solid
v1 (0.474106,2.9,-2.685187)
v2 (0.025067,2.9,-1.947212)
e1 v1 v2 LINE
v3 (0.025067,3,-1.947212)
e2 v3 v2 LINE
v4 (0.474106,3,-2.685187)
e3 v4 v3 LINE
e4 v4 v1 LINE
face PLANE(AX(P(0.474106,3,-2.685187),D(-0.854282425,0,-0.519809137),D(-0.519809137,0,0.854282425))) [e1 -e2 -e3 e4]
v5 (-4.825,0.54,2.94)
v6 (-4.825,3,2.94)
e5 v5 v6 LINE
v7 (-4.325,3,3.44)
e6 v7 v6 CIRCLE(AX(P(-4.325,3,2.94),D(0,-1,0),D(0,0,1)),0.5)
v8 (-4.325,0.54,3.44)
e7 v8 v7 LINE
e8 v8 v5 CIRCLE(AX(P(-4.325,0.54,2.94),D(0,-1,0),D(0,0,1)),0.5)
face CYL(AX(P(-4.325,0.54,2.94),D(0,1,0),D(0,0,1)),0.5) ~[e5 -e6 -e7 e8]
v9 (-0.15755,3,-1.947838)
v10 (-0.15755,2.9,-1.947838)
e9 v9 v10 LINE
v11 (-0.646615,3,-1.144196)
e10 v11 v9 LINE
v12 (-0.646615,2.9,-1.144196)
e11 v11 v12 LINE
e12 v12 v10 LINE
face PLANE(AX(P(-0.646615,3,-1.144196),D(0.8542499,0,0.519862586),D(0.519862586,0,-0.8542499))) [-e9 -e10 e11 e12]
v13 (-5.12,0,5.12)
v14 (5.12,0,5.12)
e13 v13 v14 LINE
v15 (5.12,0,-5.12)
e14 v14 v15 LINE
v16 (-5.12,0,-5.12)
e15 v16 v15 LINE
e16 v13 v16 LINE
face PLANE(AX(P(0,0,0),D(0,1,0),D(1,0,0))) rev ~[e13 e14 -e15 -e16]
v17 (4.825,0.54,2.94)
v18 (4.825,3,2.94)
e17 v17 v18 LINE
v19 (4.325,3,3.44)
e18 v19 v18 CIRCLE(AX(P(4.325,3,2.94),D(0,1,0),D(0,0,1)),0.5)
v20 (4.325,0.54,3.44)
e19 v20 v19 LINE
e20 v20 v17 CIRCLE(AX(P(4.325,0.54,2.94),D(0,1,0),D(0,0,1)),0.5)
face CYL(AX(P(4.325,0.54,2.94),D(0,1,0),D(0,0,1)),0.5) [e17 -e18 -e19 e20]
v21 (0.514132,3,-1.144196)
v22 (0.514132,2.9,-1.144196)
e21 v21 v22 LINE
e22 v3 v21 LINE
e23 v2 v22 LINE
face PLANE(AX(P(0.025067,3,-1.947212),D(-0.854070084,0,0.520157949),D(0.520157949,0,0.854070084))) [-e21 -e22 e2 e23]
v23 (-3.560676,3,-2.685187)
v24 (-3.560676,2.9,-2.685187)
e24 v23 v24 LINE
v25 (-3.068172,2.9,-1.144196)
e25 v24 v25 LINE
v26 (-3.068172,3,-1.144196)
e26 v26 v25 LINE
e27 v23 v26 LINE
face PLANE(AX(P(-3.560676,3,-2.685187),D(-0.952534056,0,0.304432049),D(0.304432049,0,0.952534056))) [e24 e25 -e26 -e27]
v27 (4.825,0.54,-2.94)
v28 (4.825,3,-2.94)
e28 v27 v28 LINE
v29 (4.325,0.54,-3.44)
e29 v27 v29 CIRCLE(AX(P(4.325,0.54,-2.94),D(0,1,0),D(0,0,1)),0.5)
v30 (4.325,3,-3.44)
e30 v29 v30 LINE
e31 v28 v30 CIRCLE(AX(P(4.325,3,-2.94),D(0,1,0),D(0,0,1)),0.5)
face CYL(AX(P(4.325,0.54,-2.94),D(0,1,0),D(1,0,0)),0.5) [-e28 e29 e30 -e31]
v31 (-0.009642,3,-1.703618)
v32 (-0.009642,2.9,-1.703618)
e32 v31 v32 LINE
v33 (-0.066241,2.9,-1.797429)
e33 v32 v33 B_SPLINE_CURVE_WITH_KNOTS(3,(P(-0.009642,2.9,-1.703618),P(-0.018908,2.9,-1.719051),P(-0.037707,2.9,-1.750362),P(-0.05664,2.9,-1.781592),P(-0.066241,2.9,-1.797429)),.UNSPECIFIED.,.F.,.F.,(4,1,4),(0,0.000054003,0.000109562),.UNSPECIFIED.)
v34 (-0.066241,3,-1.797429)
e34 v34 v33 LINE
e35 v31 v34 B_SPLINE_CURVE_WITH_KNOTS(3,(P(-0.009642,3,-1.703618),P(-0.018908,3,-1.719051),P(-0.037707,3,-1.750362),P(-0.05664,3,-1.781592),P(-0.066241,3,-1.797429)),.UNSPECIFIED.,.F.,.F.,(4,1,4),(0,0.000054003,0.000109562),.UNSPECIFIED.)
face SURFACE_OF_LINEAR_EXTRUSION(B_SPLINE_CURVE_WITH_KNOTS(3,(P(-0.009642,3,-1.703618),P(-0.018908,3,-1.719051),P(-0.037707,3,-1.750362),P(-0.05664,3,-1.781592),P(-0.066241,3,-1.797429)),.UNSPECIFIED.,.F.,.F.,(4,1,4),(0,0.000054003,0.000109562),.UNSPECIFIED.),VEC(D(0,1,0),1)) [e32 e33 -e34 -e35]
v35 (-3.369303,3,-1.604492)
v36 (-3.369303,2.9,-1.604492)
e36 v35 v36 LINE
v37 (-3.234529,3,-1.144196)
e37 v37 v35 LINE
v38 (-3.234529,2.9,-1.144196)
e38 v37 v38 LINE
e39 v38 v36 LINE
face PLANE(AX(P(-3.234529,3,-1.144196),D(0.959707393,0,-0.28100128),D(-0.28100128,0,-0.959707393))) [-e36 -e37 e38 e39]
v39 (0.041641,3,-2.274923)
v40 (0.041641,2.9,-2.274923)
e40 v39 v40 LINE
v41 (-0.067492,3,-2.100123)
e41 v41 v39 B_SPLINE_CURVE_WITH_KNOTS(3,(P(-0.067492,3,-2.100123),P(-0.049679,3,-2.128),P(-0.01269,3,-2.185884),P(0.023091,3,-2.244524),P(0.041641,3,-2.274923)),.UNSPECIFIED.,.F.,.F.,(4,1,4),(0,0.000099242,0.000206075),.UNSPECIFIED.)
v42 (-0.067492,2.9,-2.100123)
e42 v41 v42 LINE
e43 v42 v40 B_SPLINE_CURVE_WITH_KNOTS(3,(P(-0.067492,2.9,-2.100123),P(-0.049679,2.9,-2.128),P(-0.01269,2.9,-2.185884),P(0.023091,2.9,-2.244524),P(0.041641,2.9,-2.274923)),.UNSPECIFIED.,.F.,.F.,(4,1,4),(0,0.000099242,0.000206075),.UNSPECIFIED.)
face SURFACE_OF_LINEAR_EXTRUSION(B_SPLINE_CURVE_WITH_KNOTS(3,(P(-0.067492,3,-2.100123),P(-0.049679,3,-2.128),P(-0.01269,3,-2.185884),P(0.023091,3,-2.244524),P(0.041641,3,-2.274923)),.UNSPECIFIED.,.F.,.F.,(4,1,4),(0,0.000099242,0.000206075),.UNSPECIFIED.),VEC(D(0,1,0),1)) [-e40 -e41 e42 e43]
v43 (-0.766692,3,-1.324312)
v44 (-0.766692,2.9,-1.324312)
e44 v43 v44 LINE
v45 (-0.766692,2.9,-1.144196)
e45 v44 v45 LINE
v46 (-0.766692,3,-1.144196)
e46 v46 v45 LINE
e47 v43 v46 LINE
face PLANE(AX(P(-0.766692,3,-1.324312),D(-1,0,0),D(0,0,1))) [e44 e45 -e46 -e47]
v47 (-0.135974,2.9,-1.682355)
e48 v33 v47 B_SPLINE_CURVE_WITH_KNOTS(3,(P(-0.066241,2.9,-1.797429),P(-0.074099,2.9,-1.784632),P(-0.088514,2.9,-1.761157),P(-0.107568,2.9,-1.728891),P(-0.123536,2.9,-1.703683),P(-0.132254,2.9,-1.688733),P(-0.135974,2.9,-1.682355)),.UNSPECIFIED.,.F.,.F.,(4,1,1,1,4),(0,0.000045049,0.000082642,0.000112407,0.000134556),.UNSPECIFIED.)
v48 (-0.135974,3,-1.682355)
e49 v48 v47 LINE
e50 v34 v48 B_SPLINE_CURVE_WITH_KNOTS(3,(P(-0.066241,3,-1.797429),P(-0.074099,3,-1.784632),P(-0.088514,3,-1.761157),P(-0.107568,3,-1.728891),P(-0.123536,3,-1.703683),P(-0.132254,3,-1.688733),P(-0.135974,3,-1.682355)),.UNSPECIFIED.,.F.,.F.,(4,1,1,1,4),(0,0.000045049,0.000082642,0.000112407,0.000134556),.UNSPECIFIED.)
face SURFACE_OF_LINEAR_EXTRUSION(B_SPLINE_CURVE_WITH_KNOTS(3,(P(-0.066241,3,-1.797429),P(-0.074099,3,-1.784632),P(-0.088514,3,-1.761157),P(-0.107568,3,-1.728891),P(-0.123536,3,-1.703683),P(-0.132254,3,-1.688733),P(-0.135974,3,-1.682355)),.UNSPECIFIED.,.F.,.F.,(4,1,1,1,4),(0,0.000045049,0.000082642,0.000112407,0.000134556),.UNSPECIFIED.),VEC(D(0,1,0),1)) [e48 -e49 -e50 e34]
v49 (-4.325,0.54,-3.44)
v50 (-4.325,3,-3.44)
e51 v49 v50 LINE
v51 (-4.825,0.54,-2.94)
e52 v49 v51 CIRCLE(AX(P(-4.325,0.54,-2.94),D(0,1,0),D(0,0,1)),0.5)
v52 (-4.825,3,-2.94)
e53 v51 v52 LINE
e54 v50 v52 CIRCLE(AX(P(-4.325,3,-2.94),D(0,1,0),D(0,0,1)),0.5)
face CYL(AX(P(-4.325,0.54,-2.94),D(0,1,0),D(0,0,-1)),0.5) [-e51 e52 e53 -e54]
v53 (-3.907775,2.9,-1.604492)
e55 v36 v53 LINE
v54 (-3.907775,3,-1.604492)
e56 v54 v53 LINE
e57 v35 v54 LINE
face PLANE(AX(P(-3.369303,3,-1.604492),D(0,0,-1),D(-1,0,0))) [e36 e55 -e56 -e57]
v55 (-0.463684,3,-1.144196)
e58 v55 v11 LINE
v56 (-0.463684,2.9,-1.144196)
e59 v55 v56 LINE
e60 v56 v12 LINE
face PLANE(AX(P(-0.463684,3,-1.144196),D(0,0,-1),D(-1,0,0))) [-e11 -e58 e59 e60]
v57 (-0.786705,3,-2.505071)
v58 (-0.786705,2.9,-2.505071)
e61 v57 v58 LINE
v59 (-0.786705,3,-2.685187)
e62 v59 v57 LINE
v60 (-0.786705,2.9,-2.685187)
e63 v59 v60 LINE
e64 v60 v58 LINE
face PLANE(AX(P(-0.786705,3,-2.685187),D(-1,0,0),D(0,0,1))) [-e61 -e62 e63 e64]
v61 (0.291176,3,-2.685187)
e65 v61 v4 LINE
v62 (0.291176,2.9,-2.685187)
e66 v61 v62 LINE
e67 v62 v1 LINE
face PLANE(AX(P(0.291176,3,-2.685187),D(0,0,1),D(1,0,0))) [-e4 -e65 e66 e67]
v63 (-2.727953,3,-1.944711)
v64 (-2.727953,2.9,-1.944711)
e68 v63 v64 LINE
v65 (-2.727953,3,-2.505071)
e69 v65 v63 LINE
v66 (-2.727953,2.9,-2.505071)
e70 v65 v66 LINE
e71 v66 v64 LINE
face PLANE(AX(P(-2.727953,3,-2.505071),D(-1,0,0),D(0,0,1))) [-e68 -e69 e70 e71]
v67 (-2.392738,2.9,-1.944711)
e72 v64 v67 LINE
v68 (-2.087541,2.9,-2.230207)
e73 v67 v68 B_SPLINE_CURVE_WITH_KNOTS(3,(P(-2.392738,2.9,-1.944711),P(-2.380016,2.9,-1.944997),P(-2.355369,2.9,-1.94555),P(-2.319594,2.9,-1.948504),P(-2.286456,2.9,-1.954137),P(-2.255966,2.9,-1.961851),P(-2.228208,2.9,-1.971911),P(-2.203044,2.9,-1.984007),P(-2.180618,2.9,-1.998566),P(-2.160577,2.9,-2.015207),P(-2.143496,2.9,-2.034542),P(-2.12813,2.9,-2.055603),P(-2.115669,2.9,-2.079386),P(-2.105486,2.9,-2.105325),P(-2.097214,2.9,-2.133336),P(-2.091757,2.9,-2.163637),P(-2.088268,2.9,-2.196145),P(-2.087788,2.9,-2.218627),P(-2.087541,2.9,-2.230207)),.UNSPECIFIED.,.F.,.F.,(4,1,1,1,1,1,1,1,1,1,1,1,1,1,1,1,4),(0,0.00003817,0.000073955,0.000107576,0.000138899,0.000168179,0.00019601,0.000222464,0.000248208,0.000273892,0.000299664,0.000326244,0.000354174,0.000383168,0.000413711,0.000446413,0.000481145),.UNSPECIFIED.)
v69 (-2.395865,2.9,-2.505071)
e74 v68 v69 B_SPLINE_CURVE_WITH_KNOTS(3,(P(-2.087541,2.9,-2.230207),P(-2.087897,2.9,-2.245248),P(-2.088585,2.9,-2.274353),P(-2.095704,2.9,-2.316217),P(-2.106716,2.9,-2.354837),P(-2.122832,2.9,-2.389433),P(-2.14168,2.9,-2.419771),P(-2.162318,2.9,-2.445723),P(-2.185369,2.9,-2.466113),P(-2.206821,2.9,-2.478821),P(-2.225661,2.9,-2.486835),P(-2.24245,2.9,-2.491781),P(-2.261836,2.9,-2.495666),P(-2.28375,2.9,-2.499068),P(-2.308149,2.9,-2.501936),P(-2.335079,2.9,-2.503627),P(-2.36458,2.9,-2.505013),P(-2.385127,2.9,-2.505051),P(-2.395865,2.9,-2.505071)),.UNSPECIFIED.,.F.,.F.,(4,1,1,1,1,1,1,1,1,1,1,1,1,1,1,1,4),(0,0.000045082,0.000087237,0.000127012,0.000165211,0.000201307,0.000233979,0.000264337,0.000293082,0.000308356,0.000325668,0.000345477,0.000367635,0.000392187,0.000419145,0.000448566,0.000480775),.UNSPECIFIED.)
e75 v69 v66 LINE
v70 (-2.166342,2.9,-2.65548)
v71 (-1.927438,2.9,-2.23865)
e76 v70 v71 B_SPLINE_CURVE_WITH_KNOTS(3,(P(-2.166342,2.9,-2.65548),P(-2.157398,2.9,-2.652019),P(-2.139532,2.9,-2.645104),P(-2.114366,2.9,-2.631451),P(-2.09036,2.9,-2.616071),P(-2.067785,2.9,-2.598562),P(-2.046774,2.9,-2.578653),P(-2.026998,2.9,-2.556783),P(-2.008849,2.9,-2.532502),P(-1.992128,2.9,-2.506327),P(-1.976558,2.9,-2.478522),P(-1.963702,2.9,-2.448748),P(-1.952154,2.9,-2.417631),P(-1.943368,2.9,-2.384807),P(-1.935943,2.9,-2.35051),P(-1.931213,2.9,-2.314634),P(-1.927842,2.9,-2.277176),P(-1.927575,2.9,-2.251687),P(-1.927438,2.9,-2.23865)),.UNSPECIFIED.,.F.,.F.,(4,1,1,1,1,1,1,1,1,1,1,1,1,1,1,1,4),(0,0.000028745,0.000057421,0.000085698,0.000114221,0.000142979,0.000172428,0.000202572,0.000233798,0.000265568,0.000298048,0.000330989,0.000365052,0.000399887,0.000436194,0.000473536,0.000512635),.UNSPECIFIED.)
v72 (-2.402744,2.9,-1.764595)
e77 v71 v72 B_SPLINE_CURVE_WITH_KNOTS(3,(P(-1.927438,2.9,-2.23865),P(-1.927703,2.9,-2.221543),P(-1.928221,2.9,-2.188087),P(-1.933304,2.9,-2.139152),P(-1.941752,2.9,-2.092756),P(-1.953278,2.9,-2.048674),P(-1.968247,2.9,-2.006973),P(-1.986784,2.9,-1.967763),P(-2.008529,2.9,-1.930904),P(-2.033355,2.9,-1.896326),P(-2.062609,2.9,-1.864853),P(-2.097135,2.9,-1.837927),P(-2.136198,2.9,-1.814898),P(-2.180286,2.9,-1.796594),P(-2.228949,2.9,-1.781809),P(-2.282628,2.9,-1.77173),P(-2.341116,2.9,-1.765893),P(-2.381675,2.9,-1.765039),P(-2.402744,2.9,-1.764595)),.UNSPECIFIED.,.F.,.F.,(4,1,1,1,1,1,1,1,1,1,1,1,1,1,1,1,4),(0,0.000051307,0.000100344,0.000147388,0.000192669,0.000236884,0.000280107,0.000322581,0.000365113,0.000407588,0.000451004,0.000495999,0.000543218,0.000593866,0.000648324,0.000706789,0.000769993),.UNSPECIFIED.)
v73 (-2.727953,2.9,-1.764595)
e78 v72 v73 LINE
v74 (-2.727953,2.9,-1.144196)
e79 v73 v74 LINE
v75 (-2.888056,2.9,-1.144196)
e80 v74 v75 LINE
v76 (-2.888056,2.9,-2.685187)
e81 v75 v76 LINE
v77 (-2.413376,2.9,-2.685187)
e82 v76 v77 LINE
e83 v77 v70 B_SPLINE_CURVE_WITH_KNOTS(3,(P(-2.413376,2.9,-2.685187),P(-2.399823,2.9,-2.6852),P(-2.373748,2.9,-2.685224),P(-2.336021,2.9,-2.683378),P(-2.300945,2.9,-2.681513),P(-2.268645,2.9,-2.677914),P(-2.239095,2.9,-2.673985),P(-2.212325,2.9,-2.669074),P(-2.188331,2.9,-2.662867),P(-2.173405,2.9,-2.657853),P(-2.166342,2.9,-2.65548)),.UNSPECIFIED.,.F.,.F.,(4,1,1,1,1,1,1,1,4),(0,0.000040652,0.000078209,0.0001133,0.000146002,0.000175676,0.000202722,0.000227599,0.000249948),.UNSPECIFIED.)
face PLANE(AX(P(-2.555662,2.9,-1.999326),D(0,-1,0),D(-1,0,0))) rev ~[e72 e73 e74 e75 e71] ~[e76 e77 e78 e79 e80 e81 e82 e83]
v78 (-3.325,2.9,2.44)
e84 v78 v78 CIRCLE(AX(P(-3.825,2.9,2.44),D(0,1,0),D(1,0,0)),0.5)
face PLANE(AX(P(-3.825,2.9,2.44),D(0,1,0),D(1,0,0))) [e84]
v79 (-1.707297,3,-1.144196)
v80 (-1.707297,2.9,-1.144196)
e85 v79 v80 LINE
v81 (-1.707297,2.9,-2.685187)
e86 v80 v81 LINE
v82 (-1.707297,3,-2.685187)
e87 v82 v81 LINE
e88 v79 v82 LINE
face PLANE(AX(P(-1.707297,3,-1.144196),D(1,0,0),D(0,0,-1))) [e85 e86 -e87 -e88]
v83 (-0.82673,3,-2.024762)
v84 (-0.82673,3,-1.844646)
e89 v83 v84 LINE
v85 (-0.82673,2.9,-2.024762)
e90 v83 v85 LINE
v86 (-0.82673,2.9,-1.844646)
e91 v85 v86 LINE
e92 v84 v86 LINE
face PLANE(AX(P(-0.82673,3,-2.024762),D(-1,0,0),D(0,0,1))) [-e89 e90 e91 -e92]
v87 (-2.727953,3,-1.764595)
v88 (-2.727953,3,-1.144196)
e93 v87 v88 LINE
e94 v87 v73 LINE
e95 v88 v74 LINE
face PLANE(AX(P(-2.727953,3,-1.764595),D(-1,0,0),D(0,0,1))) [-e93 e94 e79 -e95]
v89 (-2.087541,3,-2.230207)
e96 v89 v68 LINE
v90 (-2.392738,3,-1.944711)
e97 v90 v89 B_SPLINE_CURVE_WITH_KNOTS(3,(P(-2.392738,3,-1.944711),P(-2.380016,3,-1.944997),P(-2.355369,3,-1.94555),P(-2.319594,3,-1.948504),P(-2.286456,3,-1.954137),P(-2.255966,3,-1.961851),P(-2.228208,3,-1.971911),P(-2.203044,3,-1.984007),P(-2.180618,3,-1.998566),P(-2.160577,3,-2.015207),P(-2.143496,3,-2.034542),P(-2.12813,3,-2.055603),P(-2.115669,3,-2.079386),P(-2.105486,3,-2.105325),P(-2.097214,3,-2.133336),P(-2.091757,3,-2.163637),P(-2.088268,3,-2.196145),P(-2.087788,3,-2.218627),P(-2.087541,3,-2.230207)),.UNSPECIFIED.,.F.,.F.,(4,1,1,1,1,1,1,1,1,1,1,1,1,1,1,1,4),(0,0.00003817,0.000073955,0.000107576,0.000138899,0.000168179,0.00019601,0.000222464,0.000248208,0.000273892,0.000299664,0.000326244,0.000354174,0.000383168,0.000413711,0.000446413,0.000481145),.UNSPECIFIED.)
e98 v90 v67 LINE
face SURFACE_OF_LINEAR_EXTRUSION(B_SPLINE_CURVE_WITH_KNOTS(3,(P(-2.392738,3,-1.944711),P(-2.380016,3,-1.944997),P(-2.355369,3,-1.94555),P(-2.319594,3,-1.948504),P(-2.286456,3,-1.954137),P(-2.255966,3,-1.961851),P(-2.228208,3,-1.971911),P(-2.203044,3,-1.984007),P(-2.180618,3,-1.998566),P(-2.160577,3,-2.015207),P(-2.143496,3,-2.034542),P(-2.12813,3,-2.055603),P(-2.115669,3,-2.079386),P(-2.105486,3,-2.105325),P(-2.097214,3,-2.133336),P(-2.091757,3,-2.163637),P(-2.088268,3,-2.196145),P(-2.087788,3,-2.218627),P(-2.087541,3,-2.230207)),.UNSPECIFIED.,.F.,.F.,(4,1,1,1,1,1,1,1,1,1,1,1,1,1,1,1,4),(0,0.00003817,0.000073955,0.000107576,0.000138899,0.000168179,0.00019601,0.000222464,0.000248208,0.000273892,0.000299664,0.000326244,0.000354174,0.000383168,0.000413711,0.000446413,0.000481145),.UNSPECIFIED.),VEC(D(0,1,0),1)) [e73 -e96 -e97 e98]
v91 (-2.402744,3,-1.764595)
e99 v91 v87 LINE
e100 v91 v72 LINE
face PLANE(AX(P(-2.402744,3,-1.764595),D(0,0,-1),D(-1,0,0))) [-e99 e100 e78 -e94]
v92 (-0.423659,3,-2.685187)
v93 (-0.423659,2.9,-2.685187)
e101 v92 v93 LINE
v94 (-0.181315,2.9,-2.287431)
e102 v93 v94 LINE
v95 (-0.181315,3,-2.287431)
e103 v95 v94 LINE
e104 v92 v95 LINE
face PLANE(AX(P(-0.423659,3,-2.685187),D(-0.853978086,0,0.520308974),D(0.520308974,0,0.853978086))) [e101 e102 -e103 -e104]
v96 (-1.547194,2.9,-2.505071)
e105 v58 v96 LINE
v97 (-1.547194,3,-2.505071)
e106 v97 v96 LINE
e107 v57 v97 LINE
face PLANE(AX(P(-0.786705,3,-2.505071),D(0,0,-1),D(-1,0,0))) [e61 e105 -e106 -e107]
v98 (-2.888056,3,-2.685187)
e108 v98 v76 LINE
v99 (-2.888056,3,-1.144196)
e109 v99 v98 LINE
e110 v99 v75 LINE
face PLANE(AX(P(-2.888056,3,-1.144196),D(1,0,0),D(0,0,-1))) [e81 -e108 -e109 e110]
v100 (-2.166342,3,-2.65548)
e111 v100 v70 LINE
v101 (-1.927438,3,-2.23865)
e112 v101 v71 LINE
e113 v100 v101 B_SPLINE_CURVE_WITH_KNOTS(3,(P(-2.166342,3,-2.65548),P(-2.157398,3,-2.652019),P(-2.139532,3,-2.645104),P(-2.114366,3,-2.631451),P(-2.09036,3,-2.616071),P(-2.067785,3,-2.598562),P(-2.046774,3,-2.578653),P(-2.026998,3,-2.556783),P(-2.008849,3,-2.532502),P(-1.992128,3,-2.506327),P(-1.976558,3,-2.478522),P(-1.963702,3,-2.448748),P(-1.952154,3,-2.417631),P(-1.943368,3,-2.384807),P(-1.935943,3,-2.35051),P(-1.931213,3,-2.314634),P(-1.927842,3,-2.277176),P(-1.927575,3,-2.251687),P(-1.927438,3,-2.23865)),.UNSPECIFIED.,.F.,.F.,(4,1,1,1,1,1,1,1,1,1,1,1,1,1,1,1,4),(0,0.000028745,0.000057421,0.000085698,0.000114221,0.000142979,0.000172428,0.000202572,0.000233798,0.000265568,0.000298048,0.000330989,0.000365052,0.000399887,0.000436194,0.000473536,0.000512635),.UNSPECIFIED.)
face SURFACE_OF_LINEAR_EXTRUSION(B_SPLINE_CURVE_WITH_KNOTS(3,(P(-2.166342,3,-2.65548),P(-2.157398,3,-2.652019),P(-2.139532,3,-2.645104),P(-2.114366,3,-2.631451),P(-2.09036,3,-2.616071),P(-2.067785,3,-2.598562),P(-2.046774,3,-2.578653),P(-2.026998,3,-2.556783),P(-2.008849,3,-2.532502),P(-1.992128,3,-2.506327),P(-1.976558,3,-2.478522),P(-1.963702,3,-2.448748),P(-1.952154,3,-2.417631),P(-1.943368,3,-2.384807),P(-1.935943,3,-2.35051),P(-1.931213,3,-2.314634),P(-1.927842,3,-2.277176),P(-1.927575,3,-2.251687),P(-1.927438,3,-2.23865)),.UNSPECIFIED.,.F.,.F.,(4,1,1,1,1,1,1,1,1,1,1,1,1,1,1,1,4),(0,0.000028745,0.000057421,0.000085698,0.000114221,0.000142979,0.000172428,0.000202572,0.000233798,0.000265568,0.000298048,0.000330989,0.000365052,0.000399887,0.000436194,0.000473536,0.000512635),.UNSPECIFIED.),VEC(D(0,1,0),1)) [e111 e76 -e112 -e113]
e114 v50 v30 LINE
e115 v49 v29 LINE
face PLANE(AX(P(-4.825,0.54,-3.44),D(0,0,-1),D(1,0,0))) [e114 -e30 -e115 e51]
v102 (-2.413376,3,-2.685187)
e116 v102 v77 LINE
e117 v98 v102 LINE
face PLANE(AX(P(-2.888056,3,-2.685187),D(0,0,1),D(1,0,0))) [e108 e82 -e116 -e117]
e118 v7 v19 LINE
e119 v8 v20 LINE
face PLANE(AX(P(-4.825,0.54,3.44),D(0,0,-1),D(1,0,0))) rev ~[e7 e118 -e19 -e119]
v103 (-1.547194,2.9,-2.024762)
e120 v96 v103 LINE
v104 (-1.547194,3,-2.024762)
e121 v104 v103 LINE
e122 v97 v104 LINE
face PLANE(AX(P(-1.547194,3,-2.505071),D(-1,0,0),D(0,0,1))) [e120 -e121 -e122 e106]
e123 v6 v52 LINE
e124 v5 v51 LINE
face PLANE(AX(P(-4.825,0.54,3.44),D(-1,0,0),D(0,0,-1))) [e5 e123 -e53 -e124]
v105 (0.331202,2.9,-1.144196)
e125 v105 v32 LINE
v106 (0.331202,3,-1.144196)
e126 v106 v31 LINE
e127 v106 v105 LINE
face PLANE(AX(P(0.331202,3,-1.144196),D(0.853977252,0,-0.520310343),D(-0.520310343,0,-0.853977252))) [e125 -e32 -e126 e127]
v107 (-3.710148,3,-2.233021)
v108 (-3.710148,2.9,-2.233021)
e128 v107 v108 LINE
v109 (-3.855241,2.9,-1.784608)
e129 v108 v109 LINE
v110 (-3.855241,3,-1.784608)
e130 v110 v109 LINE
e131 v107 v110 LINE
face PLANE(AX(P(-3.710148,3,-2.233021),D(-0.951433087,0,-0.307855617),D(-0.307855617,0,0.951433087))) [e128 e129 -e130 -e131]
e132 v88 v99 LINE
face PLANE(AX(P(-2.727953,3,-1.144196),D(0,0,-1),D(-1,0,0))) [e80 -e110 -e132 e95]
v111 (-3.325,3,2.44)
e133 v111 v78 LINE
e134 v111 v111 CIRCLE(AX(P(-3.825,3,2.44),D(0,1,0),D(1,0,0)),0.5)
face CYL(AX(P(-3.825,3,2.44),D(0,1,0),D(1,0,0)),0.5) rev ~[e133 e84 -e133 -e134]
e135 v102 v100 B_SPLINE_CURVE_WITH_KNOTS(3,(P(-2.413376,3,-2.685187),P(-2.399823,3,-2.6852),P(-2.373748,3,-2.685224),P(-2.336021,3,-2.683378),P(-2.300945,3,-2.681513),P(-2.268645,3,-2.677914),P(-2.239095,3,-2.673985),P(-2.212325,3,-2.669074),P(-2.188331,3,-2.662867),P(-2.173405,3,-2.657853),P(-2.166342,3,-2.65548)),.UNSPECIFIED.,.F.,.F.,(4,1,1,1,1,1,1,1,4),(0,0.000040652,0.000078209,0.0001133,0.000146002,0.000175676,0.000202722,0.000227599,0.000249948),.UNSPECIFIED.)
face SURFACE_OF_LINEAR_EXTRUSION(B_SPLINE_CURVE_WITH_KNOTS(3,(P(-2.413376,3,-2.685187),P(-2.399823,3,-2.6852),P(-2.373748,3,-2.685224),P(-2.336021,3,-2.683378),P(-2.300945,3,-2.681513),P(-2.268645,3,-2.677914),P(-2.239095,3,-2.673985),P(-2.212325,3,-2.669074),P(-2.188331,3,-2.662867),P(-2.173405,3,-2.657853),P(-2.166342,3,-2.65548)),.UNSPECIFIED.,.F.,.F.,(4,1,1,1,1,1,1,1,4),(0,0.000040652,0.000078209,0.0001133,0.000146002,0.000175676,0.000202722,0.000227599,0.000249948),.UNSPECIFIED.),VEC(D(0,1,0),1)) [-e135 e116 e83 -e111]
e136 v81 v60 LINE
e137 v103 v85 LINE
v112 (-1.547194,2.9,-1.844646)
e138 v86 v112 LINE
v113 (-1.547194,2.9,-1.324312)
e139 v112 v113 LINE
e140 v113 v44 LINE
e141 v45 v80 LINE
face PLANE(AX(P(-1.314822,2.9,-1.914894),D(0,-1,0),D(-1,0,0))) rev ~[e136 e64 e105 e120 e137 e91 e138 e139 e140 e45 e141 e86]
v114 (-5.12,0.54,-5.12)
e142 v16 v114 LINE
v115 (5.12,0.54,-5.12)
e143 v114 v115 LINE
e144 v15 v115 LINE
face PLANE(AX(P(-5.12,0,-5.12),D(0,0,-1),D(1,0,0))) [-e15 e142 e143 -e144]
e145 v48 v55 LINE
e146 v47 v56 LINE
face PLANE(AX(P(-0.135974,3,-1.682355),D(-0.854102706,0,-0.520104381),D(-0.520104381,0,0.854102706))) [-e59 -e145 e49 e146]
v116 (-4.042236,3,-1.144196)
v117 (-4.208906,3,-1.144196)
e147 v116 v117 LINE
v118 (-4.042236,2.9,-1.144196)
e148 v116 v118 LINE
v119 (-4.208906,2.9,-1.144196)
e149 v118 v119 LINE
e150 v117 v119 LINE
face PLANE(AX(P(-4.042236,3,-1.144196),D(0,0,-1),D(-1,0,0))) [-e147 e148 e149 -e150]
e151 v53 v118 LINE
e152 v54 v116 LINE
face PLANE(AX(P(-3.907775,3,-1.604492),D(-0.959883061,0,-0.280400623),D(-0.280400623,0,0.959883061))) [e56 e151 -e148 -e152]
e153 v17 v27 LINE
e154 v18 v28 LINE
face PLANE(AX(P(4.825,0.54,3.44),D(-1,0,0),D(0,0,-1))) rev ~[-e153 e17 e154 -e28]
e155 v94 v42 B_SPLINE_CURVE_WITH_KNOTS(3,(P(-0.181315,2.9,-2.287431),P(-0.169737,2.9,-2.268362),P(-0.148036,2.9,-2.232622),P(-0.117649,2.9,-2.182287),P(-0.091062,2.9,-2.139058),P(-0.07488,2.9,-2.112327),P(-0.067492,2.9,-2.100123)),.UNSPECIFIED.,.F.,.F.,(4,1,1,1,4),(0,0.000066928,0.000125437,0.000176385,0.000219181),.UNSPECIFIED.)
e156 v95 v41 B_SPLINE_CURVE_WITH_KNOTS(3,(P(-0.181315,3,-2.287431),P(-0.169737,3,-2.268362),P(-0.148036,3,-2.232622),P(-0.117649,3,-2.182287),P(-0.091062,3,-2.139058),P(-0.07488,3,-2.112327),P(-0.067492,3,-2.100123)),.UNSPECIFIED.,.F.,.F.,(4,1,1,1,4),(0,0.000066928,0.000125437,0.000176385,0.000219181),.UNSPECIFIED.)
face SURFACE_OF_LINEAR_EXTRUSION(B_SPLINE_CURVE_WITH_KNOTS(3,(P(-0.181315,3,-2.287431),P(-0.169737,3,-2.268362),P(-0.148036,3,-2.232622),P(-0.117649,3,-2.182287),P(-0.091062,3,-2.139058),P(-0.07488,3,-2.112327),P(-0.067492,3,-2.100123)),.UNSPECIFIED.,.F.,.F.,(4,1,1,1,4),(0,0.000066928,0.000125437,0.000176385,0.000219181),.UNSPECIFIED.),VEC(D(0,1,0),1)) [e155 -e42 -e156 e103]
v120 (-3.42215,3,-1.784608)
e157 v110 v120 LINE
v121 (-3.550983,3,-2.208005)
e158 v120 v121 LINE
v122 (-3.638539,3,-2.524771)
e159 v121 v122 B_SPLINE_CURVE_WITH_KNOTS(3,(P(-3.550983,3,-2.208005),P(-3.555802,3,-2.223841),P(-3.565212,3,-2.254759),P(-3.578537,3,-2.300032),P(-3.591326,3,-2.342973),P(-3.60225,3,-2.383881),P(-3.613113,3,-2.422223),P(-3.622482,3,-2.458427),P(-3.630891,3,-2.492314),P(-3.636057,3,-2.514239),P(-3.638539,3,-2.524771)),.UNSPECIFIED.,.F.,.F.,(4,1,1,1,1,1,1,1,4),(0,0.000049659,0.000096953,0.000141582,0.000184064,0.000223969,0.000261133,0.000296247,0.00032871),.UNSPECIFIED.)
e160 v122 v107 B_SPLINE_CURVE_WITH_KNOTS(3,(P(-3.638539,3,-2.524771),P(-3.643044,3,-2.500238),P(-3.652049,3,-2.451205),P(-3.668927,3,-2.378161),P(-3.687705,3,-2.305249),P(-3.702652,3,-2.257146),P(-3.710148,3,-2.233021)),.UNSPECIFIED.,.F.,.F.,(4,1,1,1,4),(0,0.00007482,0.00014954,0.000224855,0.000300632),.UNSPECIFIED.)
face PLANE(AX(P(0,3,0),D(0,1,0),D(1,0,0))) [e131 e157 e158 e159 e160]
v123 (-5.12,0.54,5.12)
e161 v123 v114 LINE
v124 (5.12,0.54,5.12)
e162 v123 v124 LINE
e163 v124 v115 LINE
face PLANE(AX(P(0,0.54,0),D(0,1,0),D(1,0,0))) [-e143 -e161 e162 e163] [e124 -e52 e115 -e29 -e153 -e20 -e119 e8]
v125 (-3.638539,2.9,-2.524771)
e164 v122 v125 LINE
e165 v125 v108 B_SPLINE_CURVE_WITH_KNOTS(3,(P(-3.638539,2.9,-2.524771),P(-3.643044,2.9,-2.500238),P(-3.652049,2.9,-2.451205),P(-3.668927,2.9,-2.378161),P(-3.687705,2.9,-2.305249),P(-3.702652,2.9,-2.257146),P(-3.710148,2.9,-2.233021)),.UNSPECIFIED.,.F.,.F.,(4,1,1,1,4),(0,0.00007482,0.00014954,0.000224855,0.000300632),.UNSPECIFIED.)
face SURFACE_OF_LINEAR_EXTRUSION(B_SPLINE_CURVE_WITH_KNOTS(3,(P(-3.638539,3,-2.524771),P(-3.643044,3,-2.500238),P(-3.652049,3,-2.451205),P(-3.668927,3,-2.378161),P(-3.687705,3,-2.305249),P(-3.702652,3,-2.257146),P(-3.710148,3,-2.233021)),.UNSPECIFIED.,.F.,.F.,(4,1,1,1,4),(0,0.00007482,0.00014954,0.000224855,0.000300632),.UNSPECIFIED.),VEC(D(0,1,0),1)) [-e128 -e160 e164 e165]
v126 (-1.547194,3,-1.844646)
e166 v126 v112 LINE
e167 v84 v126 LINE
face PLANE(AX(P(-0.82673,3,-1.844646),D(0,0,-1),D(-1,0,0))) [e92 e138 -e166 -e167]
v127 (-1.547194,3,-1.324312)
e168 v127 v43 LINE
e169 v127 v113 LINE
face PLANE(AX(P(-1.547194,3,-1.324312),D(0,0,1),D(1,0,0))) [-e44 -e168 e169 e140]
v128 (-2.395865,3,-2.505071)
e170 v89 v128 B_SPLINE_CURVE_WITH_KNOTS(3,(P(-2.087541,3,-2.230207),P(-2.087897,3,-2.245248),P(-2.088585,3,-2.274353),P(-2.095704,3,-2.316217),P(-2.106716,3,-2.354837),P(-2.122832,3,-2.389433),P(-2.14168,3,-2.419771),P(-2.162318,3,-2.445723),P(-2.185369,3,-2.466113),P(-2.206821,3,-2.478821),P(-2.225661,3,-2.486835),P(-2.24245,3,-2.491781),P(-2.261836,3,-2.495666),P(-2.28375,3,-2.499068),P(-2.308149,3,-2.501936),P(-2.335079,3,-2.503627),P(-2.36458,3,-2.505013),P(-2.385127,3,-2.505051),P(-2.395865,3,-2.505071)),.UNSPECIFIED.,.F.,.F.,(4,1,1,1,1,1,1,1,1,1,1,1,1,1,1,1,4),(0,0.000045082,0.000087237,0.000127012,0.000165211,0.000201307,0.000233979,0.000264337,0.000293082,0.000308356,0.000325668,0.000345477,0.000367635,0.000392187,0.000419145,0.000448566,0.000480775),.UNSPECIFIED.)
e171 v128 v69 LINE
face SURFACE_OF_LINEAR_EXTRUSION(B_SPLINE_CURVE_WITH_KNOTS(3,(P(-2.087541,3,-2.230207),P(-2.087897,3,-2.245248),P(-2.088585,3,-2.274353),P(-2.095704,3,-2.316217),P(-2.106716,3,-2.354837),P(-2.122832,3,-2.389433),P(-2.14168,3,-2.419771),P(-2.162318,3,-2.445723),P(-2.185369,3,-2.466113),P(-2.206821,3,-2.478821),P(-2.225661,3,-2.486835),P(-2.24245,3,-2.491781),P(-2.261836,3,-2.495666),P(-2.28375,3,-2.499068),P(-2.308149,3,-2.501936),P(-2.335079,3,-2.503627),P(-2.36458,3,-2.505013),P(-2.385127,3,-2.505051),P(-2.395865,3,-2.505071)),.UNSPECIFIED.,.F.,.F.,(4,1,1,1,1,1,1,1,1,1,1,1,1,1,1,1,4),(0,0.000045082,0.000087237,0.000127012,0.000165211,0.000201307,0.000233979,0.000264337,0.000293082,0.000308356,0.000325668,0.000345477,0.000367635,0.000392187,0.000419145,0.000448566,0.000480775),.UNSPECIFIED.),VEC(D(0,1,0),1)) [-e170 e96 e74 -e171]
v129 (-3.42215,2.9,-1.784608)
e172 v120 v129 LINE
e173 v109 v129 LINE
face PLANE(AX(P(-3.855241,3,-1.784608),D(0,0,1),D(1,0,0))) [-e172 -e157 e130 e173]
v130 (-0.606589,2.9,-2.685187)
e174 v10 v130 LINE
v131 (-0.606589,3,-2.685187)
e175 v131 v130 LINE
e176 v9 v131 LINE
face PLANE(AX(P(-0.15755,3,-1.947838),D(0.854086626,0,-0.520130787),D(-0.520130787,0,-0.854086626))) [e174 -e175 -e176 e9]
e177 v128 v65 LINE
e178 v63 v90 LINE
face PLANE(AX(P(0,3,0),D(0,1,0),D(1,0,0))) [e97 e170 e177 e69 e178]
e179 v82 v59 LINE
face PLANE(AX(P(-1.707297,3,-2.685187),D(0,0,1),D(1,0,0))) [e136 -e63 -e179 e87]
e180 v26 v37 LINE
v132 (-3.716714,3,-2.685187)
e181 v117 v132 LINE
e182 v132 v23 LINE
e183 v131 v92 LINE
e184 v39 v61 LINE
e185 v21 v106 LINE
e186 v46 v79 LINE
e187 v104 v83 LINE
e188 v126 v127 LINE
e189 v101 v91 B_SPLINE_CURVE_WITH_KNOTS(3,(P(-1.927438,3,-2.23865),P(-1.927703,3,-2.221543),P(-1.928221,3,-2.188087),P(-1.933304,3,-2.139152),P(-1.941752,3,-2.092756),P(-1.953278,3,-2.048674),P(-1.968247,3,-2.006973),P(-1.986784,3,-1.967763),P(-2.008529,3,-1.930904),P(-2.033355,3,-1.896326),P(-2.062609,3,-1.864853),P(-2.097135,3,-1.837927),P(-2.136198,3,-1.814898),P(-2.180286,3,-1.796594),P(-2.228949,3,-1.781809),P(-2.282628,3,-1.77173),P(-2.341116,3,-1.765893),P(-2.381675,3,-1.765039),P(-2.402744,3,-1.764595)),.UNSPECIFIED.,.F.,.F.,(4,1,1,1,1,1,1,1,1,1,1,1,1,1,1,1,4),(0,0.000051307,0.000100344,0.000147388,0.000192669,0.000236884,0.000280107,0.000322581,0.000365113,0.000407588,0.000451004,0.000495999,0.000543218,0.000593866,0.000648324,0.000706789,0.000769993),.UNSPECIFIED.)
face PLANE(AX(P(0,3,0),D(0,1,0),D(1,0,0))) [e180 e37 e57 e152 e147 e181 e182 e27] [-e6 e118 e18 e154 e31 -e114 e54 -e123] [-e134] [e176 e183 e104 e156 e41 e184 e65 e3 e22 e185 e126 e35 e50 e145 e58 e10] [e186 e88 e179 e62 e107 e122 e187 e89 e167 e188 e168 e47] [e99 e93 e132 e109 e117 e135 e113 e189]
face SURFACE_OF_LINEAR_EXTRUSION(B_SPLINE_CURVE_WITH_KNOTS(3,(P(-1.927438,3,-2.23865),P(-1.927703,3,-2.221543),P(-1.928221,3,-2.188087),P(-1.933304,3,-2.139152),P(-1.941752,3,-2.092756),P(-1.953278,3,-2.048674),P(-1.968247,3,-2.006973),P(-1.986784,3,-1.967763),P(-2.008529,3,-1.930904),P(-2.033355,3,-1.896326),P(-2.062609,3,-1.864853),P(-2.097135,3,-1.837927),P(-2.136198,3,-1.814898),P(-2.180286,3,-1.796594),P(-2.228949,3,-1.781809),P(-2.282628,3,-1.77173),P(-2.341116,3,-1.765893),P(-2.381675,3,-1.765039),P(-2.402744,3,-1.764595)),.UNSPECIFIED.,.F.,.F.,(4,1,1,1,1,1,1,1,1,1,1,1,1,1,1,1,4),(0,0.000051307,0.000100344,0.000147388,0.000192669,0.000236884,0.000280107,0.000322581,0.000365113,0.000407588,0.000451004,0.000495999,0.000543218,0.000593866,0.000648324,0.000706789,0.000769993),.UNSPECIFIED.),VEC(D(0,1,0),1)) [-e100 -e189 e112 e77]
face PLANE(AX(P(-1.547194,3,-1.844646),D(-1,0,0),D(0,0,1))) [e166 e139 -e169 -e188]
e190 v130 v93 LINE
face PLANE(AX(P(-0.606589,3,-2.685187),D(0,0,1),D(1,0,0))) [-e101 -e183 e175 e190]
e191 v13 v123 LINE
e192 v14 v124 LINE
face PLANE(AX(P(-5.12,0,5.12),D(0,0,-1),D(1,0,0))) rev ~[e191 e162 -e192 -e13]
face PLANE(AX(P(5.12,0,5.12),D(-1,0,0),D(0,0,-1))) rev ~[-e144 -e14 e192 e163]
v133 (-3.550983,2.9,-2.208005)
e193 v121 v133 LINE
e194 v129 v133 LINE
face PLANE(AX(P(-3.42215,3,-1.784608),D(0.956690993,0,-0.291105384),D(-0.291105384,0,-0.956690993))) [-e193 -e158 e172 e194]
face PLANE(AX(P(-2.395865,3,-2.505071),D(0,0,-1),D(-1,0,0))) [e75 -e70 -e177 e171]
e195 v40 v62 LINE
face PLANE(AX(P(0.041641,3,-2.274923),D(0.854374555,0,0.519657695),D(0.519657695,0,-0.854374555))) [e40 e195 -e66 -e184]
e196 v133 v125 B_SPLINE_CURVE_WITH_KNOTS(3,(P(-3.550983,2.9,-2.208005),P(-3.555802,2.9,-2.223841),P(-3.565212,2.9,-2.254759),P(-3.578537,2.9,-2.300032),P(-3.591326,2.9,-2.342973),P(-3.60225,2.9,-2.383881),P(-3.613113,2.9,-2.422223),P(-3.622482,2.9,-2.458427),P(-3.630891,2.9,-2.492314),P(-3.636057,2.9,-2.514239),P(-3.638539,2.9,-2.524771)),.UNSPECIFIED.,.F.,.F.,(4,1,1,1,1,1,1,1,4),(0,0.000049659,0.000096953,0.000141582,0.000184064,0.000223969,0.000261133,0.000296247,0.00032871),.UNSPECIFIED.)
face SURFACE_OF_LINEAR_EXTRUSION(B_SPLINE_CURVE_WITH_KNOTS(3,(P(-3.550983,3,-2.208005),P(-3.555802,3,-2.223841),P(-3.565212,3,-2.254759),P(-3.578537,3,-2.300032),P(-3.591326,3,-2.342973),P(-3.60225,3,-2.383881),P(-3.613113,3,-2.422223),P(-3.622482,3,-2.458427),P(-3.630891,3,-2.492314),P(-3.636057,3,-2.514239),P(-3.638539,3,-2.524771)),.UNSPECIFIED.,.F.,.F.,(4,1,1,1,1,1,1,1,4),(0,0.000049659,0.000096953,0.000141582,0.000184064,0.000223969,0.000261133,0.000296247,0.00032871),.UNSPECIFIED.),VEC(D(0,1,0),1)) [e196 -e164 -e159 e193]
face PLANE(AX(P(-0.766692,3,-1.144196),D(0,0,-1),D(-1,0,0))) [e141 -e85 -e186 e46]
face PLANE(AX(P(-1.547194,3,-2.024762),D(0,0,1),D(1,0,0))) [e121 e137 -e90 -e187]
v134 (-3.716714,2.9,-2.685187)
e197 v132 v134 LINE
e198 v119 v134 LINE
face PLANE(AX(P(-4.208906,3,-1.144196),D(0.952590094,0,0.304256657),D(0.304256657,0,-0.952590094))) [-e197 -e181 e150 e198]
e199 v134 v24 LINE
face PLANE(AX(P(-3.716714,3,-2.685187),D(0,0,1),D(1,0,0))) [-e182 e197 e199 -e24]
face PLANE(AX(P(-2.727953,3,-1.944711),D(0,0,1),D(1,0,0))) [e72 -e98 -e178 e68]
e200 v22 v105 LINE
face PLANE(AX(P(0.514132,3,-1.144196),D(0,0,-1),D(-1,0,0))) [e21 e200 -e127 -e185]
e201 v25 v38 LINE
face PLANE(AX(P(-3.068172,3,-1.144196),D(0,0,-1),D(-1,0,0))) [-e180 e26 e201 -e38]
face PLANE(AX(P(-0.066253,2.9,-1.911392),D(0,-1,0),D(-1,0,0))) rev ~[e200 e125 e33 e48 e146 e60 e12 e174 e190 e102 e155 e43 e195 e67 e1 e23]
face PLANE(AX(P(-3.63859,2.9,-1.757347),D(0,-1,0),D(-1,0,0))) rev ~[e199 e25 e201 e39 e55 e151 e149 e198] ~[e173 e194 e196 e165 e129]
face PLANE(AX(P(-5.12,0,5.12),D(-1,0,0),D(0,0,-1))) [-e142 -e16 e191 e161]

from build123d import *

# Parameters (mm, degrees)
SKETCH1_W           = 10.24
SKETCH1_H           = 10.24
BOSS_EXTRUDE1_DEPTH = 0.54
SKETCH2_W           = 9.65
SKETCH2_H           = 6.88
BOSS_EXTRUDE2_DEPTH = 2.46
FILLET1_R           = 0.5
SKETCH3_R           = 0.5
CUT_EXTRUDE1_DEPTH  = 0.1
CUT_EXTRUDE2_DEPTH  = 0.1


with BuildPart() as part:
    # Sketch1 → Boss-Extrude1 (new body)
    with BuildSketch(Plane(origin=(0, 0, 0), x_dir=(1, 0, 0), z_dir=(0, 1, 0))):
        Rectangle(SKETCH1_W, SKETCH1_H)
    extrude(amount=BOSS_EXTRUDE1_DEPTH)

    # Sketch2 → Boss-Extrude2 (add)
    with BuildSketch(Plane(origin=(0, 0.54, 0), x_dir=(1, 0, 0), z_dir=(0, 1, 0))):
        Rectangle(SKETCH2_W, SKETCH2_H)
    extrude(amount=BOSS_EXTRUDE2_DEPTH)

    # Fillet1
    fillet1_edges = [part.edges().sort_by_distance(p)[0] for p in [
        (4.825, 1.77, 3.44),
        (4.825, 1.77, -3.44),
        (-4.825, 1.77, -3.44),
        (-4.825, 1.77, 3.44),
    ]]
    fillet(fillet1_edges, radius=FILLET1_R)

    # Sketch3 → Cut-Extrude1 (cut)
    with BuildSketch(Plane(origin=(0, 3, 0), x_dir=(1, 0, 0), z_dir=(0, 1, 0))):
        with Locations((-3.825, -2.44)):
            Circle(SKETCH3_R)
    extrude(amount=-CUT_EXTRUDE1_DEPTH, mode=Mode.SUBTRACT)

    # Sketch4 → Cut-Extrude2 (cut)
    with BuildSketch(Plane(origin=(0, 3, 0), x_dir=(1, 0, 0), z_dir=(0, 1, 0))):
        Polygon((-4.208905933, 1.144195858), (-3.716714341, 2.685187069), (-3.560676473, 2.685187069), (-3.06817218, 1.144195858), (-3.234529186, 1.144195858), (-3.369303376, 1.604491934), (-3.907774737, 1.604491934), (-4.042236227, 1.144195858), align=None)
        with BuildLine():
            Line((-3.855240946, 1.78460779), (-3.422149869, 1.78460779))
            Line((-3.422149869, 1.78460779), (-3.550982738, 2.208005131))
            add(Edge.make_bspline(
                [(-3.550982738, 2.208005131), (-3.555802408, 2.22384126), (-3.565212111, 2.254758994), (-3.578537108, 2.300032071), (-3.591326078, 2.342972738), (-3.602250322, 2.38388053), (-3.61311318, 2.422223196), (-3.622481656, 2.458427427), (-3.630891424, 2.492313544), (-3.636057432, 2.514238953), (-3.638539057, 2.524771385)],
                knots=[0, 0, 0, 0, 4.9659e-05, 9.6953e-05, 0.000141582, 0.000184064, 0.000223969, 0.000261133, 0.000296247, 0.00032871, 0.00032871, 0.00032871, 0.00032871], degree=3))
            add(Edge.make_bspline(
                [(-3.638539057, 2.524771385), (-3.643044276, 2.500238484), (-3.65204873, 2.451205272), (-3.668927225, 2.378161214), (-3.687705063, 2.305248967), (-3.702651529, 2.257146174), (-3.710147617, 2.233021222)],
                knots=[0, 0, 0, 0, 7.482e-05, 0.00014954, 0.000224855, 0.000300632, 0.000300632, 0.000300632, 0.000300632], degree=3))
            Line((-3.710147617, 2.233021222), (-3.855240946, 1.78460779))
        make_face(mode=Mode.SUBTRACT)
        with BuildLine():
            Line((-2.888056324, 1.144195858), (-2.888056324, 2.685187069))
            Line((-2.888056324, 2.685187069), (-2.413375996, 2.685187069))
            add(Edge.make_bspline(
                [(-2.413375996, 2.685187069), (-2.399822743, 2.685199787), (-2.373748311, 2.685224254), (-2.336020957, 2.683378466), (-2.30094543, 2.681513344), (-2.268644767, 2.677914478), (-2.239094529, 2.673984648), (-2.212324896, 2.66907385), (-2.188330523, 2.662867435), (-2.173405243, 2.657853313), (-2.166342096, 2.655480461)],
                knots=[0, 0, 0, 0, 4.0652e-05, 7.8209e-05, 0.0001133, 0.000146002, 0.000175676, 0.000202722, 0.000227599, 0.000249948, 0.000249948, 0.000249948, 0.000249948], degree=3))
            add(Edge.make_bspline(
                [(-2.166342096, 2.655480461), (-2.15739835, 2.652018743), (-2.139532052, 2.645103513), (-2.114366349, 2.631451435), (-2.09035999, 2.616070999), (-2.067785044, 2.598561502), (-2.046773915, 2.578653074), (-2.026997713, 2.556783142), (-2.008849339, 2.532502116), (-1.992128119, 2.506327155), (-1.976558078, 2.478522333), (-1.963702465, 2.448747644), (-1.952154302, 2.417630839), (-1.943367912, 2.384807465), (-1.935942576, 2.3505097), (-1.931213224, 2.314633597), (-1.927842425, 2.277176403), (-1.92757514, 2.251687241), (-1.927438426, 2.238649843)],
                knots=[0, 0, 0, 0, 2.8745e-05, 5.7421e-05, 8.5698e-05, 0.000114221, 0.000142979, 0.000172428, 0.000202572, 0.000233798, 0.000265568, 0.000298048, 0.000330989, 0.000365052, 0.000399887, 0.000436194, 0.000473536, 0.000512635, 0.000512635, 0.000512635, 0.000512635], degree=3))
            add(Edge.make_bspline(
                [(-1.927438426, 2.238649843), (-1.927703132, 2.221543206), (-1.928220835, 2.188086636), (-1.93330388, 2.139152317), (-1.941751736, 2.092755631), (-1.953277936, 2.048673687), (-1.968247434, 2.006973056), (-1.986783863, 1.967763319), (-2.008529273, 1.930904056), (-2.033354788, 1.89632649), (-2.062609276, 1.864852564), (-2.097135287, 1.83792685), (-2.136198408, 1.814898294), (-2.180286283, 1.796594194), (-2.228949187, 1.781809429), (-2.282628295, 1.771730453), (-2.3411162, 1.765892858), (-2.381674975, 1.765038653), (-2.402744157, 1.764594917)],
                knots=[0, 0, 0, 0, 5.1307e-05, 0.000100344, 0.000147388, 0.000192669, 0.000236884, 0.000280107, 0.000322581, 0.000365113, 0.000407588, 0.000451004, 0.000495999, 0.000543218, 0.000593866, 0.000648324, 0.000706789, 0.000769993, 0.000769993, 0.000769993, 0.000769993], degree=3))
            Line((-2.402744157, 1.764594917), (-2.727953341, 1.764594917))
            Line((-2.727953341, 1.764594917), (-2.727953341, 1.144195858))
            Line((-2.727953341, 1.144195858), (-2.888056324, 1.144195858))
        make_face()
        with BuildLine():
            Line((-2.727953341, 1.944710773), (-2.392737721, 1.944710773))
            add(Edge.make_bspline(
                [(-2.392737721, 1.944710773), (-2.380016461, 1.944996579), (-2.355368886, 1.945550331), (-2.319593959, 1.948503929), (-2.28645598, 1.954137106), (-2.255965679, 1.961851391), (-2.228207938, 1.971910844), (-2.203044284, 1.984006949), (-2.180618389, 1.998565987), (-2.160576979, 2.015206906), (-2.143495605, 2.034541806), (-2.128130148, 2.05560326), (-2.115669137, 2.079385756), (-2.105485872, 2.105324963), (-2.097214244, 2.133336313), (-2.091756565, 2.163637248), (-2.08826807, 2.196145263), (-2.087788442, 2.21862743), (-2.087541409, 2.230206912)],
                knots=[0, 0, 0, 0, 3.817e-05, 7.3955e-05, 0.000107576, 0.000138899, 0.000168179, 0.00019601, 0.000222464, 0.000248208, 0.000273892, 0.000299664, 0.000326244, 0.000354174, 0.000383168, 0.000413711, 0.000446413, 0.000481145, 0.000481145, 0.000481145, 0.000481145], degree=3))
            add(Edge.make_bspline(
                [(-2.087541409, 2.230206912), (-2.08789706, 2.245247803), (-2.088585266, 2.274352792), (-2.095703866, 2.316217414), (-2.106715605, 2.354836551), (-2.122831996, 2.389433378), (-2.141679929, 2.419771411), (-2.162318289, 2.445723404), (-2.185368747, 2.466112503), (-2.206821105, 2.478820504), (-2.225660971, 2.486835174), (-2.242449858, 2.491781091), (-2.261836205, 2.495665981), (-2.283750042, 2.499067941), (-2.30814868, 2.501936461), (-2.335078678, 2.50362652), (-2.364580349, 2.505013397), (-2.385126647, 2.505051368), (-2.395864732, 2.505071213)],
                knots=[0, 0, 0, 0, 4.5082e-05, 8.7237e-05, 0.000127012, 0.000165211, 0.000201307, 0.000233979, 0.000264337, 0.000293082, 0.000308356, 0.000325668, 0.000345477, 0.000367635, 0.000392187, 0.000419145, 0.000448566, 0.000480775, 0.000480775, 0.000480775, 0.000480775], degree=3))
            Line((-2.395864732, 2.505071213), (-2.727953341, 2.505071213))
            Line((-2.727953341, 2.505071213), (-2.727953341, 1.944710773))
        make_face(mode=Mode.SUBTRACT)
        Polygon((-1.707296825, 1.144195858), (-1.707296825, 2.685187069), (-0.786704673, 2.685187069), (-0.786704673, 2.505071213), (-1.547193842, 2.505071213), (-1.547193842, 2.024762264), (-0.826730419, 2.024762264), (-0.826730419, 1.844646408), (-1.547193842, 1.844646408), (-1.547193842, 1.324311714), (-0.7666918, 1.324311714), (-0.7666918, 1.144195858), align=None)
        with BuildLine():
            Line((-0.646614563, 1.144195858), (-0.157549982, 1.947837784))
            Line((-0.157549982, 1.947837784), (-0.606588817, 2.685187069))
            Line((-0.606588817, 2.685187069), (-0.423658651, 2.685187069))
            Line((-0.423658651, 2.685187069), (-0.181315269, 2.28743122))
            add(Edge.make_bspline(
                [(-0.181315269, 2.28743122), (-0.169736699, 2.268361701), (-0.148036169, 2.232621651), (-0.117649456, 2.182287392), (-0.091062059, 2.139057874), (-0.074879604, 2.112326527), (-0.067492054, 2.100123238)],
                knots=[0, 0, 0, 0, 6.6928e-05, 0.000125437, 0.000176385, 0.000219181, 0.000219181, 0.000219181, 0.000219181], degree=3))
            add(Edge.make_bspline(
                [(-0.067492054, 2.100123238), (-0.049678986, 2.127999568), (-0.012690335, 2.185884479), (0.02309097, 2.244523598), (0.041640643, 2.274923175)],
                knots=[0, 0, 0, 0, 9.9242e-05, 0.000206075, 0.000206075, 0.000206075, 0.000206075], degree=3))
            Line((0.041640643, 2.274923175), (0.291176152, 2.685187069))
            Line((0.291176152, 2.685187069), (0.474106318, 2.685187069))
            Line((0.474106318, 2.685187069), (0.025067483, 1.947212382))
            Line((0.025067483, 1.947212382), (0.514132064, 1.144195858))
            Line((0.514132064, 1.144195858), (0.331201898, 1.144195858))
            Line((0.331201898, 1.144195858), (-0.009642343, 1.703618195))
            add(Edge.make_bspline(
                [(-0.009642343, 1.703618195), (-0.01890825, 1.719051357), (-0.037706972, 1.750362242), (-0.056640217, 1.781591969), (-0.06624125, 1.797428536)],
                knots=[0, 0, 0, 0, 5.4003e-05, 0.000109562, 0.000109562, 0.000109562, 0.000109562], degree=3))
            add(Edge.make_bspline(
                [(-0.06624125, 1.797428536), (-0.074099113, 1.784632259), (-0.088514391, 1.761157446), (-0.107567841, 1.72889146), (-0.123536239, 1.703682546), (-0.132254181, 1.688732713), (-0.135973603, 1.682354517)],
                knots=[0, 0, 0, 0, 4.5049e-05, 8.2642e-05, 0.000112407, 0.000134556, 0.000134556, 0.000134556, 0.000134556], degree=3))
            Line((-0.135973603, 1.682354517), (-0.463684397, 1.144195858))
            Line((-0.463684397, 1.144195858), (-0.646614563, 1.144195858))
        make_face()
    extrude(amount=-CUT_EXTRUDE2_DEPTH, mode=Mode.SUBTRACT)


solid = part.part
